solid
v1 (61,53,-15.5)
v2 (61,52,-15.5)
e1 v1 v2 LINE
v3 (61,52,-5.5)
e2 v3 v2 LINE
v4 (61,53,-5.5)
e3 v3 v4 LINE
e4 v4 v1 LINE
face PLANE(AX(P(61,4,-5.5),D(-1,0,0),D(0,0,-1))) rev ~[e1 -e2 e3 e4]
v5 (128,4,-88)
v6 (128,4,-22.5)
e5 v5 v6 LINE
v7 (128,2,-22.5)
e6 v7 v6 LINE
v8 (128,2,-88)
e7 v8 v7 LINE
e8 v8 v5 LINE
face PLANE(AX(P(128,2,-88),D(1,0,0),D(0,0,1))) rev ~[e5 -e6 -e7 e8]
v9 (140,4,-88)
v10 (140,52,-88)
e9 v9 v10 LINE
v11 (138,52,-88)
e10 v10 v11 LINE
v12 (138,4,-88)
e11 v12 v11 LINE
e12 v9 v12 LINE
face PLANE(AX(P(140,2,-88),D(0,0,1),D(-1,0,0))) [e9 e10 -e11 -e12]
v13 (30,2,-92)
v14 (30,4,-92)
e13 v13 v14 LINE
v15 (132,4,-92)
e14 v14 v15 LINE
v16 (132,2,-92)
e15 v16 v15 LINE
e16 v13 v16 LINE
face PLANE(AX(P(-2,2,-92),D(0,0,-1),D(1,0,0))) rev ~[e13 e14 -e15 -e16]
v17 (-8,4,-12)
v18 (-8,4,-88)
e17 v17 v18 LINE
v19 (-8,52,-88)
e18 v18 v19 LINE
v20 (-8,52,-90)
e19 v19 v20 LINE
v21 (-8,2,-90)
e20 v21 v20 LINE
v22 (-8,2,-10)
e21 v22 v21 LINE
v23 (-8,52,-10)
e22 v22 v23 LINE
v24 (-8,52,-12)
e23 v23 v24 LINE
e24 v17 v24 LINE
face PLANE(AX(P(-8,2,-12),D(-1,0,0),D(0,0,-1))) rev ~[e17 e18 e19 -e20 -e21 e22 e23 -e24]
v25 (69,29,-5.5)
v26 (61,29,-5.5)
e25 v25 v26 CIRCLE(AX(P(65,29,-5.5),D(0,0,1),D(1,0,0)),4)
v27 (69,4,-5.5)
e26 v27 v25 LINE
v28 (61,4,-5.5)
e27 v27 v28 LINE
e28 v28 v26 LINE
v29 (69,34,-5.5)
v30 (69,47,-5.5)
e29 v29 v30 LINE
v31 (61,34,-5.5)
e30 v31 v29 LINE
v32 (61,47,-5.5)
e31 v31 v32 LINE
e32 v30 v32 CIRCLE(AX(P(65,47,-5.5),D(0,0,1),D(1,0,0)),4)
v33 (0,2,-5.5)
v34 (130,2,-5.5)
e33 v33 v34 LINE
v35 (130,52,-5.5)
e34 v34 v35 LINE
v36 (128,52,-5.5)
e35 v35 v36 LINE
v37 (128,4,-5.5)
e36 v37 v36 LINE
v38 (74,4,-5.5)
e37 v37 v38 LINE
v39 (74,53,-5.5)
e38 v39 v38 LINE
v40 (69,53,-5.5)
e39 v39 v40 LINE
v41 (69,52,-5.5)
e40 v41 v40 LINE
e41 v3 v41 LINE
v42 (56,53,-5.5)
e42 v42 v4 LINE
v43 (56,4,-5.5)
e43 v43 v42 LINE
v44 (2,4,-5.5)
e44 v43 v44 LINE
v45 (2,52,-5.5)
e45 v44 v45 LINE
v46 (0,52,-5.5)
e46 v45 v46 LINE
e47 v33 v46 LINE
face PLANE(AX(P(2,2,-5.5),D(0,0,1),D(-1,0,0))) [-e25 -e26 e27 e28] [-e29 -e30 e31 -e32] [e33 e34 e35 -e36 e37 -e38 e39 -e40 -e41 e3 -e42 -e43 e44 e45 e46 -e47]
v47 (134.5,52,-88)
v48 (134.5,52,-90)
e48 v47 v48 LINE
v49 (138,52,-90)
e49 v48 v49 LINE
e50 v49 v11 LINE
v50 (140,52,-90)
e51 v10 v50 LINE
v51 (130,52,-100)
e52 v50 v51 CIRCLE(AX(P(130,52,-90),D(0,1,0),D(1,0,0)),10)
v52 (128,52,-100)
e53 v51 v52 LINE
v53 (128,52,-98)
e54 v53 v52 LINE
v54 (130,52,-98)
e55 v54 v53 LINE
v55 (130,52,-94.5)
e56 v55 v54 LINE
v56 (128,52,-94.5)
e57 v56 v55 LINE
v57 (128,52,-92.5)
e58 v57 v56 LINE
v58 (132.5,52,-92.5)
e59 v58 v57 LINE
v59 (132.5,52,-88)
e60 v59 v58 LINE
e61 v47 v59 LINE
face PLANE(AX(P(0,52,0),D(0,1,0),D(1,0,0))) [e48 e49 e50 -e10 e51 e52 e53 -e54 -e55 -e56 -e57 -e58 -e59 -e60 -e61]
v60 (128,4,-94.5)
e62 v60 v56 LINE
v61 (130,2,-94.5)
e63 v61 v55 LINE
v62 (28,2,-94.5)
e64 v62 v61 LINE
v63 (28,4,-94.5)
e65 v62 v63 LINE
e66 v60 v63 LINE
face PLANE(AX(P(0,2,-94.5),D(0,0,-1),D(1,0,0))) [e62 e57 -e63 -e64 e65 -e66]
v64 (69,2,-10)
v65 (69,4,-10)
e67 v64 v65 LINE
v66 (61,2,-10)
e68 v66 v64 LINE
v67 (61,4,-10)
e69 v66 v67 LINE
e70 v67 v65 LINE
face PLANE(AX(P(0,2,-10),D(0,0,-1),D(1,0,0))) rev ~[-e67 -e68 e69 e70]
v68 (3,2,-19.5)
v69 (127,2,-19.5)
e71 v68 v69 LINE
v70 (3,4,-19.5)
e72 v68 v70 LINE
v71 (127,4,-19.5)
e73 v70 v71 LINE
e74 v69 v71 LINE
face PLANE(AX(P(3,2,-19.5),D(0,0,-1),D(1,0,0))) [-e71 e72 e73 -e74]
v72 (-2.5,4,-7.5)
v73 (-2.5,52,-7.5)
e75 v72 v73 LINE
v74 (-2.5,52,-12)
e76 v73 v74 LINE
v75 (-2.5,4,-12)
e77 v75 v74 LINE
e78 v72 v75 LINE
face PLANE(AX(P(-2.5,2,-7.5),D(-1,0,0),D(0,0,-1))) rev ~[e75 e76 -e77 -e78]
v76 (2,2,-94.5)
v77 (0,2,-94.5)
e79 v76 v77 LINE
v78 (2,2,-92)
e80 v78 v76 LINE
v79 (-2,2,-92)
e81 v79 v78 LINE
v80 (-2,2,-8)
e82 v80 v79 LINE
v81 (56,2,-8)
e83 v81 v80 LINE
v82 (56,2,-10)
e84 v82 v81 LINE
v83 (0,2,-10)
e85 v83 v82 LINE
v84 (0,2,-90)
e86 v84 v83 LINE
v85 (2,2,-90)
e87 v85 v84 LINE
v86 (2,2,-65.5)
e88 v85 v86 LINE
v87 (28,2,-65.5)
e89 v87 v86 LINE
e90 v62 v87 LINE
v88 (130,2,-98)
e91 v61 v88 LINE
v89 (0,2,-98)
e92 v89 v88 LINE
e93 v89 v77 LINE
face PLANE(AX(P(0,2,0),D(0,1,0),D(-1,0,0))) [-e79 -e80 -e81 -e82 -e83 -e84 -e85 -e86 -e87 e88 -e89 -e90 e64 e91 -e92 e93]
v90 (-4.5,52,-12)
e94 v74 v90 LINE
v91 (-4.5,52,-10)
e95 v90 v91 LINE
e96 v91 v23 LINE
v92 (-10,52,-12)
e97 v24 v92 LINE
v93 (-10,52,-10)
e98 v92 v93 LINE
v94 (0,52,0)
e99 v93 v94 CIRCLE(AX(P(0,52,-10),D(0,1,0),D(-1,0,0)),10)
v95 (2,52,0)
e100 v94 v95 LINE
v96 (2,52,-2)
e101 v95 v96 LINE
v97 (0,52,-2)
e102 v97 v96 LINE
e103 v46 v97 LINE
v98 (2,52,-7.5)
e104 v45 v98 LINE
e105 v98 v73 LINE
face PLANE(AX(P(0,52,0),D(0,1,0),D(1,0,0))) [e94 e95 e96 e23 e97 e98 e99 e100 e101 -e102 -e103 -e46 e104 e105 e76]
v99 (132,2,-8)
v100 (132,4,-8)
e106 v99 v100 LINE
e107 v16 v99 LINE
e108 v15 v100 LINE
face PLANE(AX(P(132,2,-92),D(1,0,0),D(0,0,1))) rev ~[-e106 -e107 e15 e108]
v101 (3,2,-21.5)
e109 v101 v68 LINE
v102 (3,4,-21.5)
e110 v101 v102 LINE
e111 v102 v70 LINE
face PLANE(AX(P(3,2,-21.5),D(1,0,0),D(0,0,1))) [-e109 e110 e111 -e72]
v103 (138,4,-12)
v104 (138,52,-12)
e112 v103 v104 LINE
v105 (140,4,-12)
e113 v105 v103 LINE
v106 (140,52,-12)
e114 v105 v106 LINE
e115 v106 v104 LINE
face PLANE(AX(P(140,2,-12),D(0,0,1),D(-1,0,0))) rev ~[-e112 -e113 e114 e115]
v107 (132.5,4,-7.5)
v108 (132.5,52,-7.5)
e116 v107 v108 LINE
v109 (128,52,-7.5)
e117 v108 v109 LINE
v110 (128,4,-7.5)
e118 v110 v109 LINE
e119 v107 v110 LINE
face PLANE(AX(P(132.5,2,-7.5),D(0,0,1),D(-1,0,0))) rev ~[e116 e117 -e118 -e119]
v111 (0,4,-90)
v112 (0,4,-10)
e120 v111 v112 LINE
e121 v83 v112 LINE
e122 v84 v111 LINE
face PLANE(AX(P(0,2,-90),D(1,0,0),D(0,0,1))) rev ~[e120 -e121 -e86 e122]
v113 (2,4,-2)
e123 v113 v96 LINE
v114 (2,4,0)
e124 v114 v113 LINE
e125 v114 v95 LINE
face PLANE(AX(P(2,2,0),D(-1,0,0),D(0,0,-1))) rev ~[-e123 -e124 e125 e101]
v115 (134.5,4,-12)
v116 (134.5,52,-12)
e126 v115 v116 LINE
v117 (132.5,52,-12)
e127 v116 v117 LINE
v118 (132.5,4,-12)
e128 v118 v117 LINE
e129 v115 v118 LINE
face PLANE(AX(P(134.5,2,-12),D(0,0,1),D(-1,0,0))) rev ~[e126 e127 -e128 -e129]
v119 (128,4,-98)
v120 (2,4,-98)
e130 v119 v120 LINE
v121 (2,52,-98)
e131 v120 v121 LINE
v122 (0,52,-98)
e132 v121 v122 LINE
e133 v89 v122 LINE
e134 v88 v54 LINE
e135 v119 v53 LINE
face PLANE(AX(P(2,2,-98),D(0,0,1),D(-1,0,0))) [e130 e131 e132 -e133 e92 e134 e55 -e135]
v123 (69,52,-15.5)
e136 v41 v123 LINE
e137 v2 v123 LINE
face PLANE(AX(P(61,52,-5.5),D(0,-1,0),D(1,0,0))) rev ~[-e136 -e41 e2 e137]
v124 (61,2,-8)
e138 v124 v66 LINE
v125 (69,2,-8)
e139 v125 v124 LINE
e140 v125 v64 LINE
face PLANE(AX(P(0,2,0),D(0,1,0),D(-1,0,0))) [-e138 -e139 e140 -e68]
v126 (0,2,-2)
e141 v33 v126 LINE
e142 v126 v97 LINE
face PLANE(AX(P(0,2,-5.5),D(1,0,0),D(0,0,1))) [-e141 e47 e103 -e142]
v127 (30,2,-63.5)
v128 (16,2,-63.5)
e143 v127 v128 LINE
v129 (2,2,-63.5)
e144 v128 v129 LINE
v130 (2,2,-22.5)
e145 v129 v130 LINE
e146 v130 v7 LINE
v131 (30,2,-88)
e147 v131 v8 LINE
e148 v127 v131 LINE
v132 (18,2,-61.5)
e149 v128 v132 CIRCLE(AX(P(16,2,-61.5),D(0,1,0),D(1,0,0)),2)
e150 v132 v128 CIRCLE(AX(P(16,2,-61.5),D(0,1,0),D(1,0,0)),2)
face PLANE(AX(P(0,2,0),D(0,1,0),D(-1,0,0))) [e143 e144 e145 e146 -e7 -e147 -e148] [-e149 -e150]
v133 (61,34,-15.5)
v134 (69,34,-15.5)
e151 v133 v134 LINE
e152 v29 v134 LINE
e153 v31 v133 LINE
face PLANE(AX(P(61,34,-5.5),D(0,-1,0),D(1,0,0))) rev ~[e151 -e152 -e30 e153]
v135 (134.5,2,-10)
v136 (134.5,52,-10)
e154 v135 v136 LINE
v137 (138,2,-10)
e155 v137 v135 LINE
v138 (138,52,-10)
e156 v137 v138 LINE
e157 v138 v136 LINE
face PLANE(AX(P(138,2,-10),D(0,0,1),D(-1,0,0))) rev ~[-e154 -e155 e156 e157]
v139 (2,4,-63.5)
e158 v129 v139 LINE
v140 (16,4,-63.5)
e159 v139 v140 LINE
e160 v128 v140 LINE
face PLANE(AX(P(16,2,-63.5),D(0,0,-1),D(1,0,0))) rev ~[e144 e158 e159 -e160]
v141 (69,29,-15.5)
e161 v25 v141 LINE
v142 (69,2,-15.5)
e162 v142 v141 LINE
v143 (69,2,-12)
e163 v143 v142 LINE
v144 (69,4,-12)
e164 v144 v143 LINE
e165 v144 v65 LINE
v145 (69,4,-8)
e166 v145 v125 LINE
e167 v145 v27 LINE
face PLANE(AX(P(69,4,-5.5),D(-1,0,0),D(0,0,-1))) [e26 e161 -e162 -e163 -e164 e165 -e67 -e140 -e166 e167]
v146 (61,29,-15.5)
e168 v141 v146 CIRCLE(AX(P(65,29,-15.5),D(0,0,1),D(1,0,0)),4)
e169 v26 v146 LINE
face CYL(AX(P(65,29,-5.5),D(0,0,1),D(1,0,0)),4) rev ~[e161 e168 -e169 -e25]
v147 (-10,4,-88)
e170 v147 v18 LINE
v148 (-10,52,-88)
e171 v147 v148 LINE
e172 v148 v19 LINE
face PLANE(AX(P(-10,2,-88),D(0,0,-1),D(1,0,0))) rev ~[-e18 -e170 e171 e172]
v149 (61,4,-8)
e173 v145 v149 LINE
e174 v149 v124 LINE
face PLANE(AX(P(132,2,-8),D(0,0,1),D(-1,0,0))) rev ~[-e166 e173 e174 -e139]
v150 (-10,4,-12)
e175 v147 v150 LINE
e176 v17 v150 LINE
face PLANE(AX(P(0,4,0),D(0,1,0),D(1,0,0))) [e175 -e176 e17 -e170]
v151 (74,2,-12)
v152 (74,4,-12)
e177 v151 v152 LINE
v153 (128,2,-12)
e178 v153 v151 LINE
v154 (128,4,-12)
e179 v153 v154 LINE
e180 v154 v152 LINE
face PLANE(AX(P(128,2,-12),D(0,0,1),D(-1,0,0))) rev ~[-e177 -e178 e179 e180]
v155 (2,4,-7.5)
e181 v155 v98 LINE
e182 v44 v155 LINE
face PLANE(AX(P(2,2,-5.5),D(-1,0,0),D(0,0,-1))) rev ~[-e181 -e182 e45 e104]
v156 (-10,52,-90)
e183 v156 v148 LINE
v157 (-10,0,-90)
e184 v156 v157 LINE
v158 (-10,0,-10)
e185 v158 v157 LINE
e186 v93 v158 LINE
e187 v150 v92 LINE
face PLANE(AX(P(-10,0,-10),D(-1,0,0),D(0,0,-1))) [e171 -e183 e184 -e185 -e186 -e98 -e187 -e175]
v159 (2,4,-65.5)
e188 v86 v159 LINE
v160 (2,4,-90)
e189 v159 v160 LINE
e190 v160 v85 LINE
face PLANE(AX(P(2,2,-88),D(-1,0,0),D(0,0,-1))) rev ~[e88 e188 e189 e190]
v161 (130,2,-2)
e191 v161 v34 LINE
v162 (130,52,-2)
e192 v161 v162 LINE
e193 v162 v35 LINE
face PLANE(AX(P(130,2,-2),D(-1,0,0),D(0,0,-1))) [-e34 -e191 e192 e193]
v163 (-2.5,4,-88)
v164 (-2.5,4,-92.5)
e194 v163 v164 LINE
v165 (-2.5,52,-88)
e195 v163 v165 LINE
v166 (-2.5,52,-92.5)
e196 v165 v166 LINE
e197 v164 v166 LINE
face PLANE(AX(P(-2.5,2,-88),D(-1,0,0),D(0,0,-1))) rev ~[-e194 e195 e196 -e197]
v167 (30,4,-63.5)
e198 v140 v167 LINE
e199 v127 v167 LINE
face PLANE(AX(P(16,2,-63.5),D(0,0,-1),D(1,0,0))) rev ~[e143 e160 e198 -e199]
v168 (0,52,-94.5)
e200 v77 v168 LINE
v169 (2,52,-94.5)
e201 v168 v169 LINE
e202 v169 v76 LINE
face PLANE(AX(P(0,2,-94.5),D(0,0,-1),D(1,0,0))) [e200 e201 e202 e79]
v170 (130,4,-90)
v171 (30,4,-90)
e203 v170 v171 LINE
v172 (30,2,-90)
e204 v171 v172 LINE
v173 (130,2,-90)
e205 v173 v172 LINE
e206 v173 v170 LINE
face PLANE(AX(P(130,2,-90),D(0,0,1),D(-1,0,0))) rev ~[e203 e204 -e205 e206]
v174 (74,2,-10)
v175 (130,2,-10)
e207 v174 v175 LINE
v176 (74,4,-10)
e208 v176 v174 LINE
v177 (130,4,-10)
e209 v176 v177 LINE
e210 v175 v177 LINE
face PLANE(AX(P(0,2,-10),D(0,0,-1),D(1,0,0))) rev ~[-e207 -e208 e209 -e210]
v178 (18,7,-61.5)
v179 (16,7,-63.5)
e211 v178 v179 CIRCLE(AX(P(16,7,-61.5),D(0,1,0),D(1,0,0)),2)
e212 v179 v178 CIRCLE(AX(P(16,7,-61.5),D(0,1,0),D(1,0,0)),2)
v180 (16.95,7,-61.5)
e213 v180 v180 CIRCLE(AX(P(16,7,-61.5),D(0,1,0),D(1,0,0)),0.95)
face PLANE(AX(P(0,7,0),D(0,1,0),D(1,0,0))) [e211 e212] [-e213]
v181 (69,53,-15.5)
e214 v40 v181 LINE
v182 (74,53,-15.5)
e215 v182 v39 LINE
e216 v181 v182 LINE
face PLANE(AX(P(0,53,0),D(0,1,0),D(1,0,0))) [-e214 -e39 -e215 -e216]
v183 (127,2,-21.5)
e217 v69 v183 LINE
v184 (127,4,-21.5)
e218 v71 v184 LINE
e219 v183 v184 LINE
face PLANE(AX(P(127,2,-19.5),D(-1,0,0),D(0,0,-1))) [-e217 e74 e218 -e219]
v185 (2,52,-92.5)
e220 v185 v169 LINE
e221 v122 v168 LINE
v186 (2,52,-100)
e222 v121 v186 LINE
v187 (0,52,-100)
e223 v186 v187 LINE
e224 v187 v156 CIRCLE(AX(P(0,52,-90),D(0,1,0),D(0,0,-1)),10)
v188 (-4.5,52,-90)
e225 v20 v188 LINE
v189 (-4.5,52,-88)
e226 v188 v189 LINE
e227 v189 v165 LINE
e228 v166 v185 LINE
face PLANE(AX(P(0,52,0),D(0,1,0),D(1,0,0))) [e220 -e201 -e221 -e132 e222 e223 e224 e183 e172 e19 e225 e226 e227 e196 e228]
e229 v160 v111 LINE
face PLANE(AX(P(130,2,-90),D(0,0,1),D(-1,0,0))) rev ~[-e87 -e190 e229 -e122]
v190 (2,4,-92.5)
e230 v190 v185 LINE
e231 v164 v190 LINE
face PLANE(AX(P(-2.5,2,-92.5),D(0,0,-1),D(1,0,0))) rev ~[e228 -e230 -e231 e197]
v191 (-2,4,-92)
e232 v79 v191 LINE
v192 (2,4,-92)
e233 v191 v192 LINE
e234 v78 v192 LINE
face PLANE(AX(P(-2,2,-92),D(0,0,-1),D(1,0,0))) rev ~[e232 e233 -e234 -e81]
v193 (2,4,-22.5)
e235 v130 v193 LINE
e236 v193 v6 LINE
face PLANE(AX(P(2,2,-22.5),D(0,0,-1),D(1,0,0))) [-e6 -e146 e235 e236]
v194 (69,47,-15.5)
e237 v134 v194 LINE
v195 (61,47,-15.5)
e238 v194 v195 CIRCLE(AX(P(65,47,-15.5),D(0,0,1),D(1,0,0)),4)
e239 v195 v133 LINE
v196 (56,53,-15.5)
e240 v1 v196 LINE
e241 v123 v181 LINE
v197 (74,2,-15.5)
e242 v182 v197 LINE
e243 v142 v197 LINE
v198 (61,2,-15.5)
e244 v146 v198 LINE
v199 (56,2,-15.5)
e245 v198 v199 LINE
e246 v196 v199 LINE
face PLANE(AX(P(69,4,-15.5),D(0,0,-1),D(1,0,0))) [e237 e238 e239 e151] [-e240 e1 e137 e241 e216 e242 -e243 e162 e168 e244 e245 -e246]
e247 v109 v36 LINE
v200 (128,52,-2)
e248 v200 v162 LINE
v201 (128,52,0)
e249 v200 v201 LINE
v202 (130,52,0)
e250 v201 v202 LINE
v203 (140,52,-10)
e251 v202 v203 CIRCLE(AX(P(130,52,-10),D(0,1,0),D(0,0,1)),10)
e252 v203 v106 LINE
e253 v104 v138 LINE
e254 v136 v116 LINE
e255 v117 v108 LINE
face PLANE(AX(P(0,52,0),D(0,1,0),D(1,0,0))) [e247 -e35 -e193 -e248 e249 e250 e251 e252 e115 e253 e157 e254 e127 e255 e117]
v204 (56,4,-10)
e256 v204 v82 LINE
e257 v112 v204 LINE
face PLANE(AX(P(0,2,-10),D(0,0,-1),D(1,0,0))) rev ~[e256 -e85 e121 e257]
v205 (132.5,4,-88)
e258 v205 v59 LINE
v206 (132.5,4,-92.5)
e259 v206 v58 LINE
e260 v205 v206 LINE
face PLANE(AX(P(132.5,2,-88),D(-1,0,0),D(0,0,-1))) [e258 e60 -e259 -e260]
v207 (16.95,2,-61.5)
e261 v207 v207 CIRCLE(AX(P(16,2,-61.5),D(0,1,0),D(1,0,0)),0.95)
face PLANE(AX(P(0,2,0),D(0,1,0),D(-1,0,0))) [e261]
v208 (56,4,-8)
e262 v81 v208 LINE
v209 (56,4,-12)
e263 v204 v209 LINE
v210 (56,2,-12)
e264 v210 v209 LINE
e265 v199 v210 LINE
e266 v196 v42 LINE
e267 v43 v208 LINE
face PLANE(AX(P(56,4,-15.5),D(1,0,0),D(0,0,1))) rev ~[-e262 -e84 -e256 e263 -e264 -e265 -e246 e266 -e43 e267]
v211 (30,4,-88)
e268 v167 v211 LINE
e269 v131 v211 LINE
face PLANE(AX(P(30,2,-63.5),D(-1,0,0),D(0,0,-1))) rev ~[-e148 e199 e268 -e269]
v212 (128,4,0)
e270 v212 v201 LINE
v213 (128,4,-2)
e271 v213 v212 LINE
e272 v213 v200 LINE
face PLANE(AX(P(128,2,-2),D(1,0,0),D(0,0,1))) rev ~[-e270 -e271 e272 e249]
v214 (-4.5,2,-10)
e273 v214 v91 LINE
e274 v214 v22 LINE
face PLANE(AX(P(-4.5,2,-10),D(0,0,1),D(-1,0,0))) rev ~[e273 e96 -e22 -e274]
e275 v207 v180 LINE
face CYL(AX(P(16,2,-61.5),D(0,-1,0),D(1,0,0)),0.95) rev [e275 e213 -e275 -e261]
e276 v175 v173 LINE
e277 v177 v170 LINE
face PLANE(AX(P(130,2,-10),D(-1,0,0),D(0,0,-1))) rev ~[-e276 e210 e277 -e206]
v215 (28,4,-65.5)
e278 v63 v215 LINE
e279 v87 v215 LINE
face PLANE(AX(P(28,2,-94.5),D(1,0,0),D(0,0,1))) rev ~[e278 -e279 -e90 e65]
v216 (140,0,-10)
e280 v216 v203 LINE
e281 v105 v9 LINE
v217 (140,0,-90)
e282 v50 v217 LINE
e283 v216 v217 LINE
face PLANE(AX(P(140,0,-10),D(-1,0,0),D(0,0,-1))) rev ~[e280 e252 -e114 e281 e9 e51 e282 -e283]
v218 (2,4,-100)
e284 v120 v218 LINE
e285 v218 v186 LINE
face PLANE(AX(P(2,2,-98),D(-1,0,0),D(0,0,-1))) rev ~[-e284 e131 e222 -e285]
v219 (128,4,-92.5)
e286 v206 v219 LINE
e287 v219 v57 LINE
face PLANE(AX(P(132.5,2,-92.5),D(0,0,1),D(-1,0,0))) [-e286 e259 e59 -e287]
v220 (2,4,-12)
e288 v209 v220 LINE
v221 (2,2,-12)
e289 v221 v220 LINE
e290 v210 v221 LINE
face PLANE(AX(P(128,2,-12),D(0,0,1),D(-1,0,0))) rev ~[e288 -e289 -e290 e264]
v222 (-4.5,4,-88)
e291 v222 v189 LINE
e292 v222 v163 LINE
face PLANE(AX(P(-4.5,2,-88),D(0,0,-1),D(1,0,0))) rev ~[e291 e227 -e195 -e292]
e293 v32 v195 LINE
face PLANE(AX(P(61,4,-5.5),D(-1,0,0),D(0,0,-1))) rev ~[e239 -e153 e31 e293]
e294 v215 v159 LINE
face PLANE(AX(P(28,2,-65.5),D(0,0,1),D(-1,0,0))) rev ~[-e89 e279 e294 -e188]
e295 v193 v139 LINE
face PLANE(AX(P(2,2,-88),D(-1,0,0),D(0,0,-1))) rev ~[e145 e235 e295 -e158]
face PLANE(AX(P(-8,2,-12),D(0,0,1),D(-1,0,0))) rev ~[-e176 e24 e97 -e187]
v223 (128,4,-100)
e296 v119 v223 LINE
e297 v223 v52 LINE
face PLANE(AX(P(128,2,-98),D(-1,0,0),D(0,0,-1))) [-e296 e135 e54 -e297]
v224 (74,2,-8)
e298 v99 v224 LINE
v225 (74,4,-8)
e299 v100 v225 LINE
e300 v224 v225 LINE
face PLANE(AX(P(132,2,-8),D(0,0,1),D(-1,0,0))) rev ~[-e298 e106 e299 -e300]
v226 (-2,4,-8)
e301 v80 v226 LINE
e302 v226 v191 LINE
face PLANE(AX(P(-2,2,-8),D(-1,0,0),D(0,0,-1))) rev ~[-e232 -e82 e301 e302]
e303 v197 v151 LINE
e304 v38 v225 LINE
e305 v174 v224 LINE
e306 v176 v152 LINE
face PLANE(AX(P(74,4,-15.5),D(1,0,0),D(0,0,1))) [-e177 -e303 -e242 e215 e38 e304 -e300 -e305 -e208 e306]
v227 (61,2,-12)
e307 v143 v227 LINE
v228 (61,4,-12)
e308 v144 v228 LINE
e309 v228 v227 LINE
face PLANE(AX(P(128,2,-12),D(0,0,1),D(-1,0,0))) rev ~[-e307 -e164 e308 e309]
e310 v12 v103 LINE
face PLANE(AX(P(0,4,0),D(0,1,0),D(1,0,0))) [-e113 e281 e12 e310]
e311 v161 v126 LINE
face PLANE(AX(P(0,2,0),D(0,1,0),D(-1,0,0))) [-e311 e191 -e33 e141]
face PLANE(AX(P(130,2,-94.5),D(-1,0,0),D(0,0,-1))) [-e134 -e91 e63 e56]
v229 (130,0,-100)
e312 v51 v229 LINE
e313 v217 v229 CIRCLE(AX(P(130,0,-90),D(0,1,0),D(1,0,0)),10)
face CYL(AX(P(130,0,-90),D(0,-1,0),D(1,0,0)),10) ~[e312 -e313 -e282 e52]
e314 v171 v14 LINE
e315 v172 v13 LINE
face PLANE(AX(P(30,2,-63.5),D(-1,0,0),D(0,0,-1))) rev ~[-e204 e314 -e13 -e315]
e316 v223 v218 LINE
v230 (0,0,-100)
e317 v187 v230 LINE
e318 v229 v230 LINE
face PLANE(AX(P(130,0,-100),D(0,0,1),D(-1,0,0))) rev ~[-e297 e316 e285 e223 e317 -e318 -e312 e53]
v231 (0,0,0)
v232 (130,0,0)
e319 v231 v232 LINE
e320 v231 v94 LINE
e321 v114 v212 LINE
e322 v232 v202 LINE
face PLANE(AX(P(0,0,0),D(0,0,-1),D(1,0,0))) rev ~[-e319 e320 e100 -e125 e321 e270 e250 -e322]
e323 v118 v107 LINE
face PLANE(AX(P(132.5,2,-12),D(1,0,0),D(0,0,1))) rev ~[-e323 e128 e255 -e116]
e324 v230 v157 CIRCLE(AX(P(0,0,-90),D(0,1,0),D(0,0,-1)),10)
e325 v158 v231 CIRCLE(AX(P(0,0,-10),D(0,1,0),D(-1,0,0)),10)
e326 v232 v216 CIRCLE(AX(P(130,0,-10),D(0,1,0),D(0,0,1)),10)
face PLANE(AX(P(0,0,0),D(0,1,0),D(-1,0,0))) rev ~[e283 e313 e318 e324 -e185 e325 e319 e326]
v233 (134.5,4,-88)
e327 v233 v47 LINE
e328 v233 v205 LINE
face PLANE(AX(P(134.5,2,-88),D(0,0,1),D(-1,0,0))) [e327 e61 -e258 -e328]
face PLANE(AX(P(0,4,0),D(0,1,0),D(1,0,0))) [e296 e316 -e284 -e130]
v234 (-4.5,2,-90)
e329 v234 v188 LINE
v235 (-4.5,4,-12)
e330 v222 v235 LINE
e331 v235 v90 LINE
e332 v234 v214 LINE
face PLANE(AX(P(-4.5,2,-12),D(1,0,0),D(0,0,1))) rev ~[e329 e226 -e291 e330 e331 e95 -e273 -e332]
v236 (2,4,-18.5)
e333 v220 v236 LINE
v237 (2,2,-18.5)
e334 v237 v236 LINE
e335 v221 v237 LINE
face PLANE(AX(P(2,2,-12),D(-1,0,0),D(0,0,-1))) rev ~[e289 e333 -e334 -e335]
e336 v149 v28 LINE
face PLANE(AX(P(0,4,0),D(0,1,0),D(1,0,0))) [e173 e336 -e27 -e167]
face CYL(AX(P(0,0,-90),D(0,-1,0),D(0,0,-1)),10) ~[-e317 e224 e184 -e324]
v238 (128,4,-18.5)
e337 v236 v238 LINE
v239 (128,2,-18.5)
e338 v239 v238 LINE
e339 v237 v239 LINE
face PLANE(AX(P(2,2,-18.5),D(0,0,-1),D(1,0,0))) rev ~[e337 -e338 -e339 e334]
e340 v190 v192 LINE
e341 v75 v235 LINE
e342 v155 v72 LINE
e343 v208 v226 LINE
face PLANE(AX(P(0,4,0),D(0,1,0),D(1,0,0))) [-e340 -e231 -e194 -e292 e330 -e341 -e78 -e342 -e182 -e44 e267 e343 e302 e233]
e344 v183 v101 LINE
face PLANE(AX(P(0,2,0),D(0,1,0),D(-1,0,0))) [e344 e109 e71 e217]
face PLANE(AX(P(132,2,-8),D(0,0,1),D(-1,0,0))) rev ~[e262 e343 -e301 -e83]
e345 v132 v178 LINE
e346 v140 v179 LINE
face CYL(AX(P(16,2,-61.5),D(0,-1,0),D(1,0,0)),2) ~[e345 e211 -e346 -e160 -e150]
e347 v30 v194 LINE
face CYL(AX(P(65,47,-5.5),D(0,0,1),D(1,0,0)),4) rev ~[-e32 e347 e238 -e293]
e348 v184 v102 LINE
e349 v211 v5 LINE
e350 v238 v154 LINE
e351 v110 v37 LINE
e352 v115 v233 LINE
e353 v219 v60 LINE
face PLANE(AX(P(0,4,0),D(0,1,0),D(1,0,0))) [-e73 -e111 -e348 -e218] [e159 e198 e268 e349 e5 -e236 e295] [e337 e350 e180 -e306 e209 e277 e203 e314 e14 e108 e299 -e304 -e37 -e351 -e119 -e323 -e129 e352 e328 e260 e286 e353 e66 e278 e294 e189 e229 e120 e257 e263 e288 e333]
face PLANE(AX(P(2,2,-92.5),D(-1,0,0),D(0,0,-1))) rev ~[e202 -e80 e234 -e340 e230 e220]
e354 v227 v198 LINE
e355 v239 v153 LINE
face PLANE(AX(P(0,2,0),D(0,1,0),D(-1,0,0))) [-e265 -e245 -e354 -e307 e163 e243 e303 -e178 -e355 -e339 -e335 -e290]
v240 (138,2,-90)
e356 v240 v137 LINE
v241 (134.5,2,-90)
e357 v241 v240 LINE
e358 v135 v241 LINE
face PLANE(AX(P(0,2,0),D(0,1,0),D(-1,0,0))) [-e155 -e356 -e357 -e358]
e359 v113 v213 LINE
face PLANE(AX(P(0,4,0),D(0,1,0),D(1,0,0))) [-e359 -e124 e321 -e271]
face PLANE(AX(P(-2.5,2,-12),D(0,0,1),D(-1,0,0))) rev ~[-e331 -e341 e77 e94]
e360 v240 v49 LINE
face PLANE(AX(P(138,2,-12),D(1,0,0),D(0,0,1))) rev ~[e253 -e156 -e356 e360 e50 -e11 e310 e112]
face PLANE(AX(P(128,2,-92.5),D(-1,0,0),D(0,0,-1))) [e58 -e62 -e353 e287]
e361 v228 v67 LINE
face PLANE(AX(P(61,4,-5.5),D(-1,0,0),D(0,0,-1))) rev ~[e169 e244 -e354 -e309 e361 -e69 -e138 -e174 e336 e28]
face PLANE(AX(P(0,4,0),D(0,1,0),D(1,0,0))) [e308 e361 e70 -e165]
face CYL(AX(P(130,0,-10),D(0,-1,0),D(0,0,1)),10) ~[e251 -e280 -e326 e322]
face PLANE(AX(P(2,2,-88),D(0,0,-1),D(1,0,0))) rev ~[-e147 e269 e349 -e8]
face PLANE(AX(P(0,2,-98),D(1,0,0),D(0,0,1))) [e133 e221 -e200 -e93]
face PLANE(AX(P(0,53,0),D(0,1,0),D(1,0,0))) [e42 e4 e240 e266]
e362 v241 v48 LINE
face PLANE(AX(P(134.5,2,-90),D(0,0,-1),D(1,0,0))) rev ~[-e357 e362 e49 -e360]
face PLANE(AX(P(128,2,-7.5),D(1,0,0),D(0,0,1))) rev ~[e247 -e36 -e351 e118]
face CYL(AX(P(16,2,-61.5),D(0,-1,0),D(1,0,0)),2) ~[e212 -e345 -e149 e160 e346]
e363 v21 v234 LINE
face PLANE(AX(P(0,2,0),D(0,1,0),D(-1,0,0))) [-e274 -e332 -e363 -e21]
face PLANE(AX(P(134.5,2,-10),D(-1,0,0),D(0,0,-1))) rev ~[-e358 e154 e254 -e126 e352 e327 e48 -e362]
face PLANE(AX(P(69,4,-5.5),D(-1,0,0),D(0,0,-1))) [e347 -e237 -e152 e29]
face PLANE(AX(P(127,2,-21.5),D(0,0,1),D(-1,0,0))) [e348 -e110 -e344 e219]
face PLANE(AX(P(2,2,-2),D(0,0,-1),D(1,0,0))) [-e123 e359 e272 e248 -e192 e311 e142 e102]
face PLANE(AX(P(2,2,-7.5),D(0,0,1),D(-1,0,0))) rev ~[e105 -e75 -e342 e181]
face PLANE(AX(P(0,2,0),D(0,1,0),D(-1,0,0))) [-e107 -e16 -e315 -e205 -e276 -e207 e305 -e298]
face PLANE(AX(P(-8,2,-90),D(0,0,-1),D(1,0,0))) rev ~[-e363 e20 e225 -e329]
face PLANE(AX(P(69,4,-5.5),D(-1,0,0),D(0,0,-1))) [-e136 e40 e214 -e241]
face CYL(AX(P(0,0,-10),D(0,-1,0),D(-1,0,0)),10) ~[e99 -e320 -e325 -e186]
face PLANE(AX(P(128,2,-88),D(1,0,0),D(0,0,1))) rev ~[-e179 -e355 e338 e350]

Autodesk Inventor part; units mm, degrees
ref_plane "YZ Plane" through (0, 0, 0) normal (1, 0, 0) x (0, 1, 0)
ref_plane "XZ Plane" through (0, 0, 0) normal (0, 1, 0) x (-1, 0, 0)
ref_plane "XY Plane" through (0, 0, 0) normal (0, 0, 1) x (1, 0, 0)
sketch "Skizze1" plane through (0, 0, 0) normal (0, 1, 0) x (-1, 0, 0)
  line L0 (0, 0) -> (-130, 0)
  line L1 (-140, -10) -> (-140, -90)
  line L2 (-130, -100) -> (0, -100)
  line L3 (10, -10) -> (10, -90)
  arc A0 (0, -100) -> (10, -90) centre (0, -90) ccw
  arc A1 (-140, -90) -> (-130, -100) centre (-130, -90) ccw
  arc A2 (-130, 0) -> (-140, -10) centre (-130, -10) ccw
  arc A3 (10, -10) -> (0, 0) centre (0, -10) ccw
  dimension "d0" = 150
  dimension "d1" = 100
  dimension "d2" = 10
extrude "Extrusion1" add sketch "Skizze1" along normal blind 2
sketch "Skizze2" plane through (0, 2, 0) normal (0, 1, 0) x (1, 0, 0)
  line L0 (0, 0) -> (130, 0) projected
  arc A0 (130, 0) -> (140, 10) centre (130, 10) ccw projected
  line L1 (140, 10) -> (140, 90) projected
  arc A1 (140, 90) -> (130, 100) centre (130, 90) ccw projected
  line L2 (130, 100) -> (0, 100) projected
  arc A2 (0, 100) -> (-10, 90) centre (0, 90) ccw projected
  line L3 (-10, 90) -> (-10, 10) projected
  arc A3 (-10, 10) -> (0, 0) centre (0, 10) ccw projected
  line L4 (0, 2) -> (130, 2)
  line L5 (130, 2) -> (130, 5.5)
  line L6 (130, 5.5) -> (0, 5.5)
  line L7 (0, 5.5) -> (0, 2)
  line L8 (138, 10) -> (134.5, 10)
  line L9 (134.5, 10) -> (134.5, 90)
  line L10 (134.5, 90) -> (138, 90)
  line L11 (138, 90) -> (138, 10)
  line L12 (130, 98) -> (0, 98)
  line L13 (0, 98) -> (0, 94.5)
  line L14 (0, 94.5) -> (130, 94.5)
  line L15 (130, 94.5) -> (130, 98)
  line L16 (-8, 90) -> (-4.5, 90)
  line L17 (-4.5, 90) -> (-4.5, 10)
  line L18 (-4.5, 10) -> (-8, 10)
  line L19 (-8, 10) -> (-8, 90)
  line L20 (65, 2) -> (65, 0) construction
  line L21 (0, 0) -> (130, 0) construction
  line L22 (138, 50) -> (140, 50) construction
  line L23 (140, 10) -> (140, 90) construction
  line L24 (65, 98) -> (65, 100) construction
  line L25 (130, 100) -> (0, 100) construction
  line L26 (-8, 50) -> (-10, 50) construction
  line L27 (-10, 90) -> (-10, 10) construction
  line L28 (140, 88) -> (138, 88)
  line L29 (134.5, 88) -> (132.5, 88)
  line L30 (132.5, 88) -> (132.5, 92.5)
  line L31 (132.5, 92.5) -> (128, 92.5)
  line L32 (128, 92.5) -> (128, 94.5)
  line L33 (128, 98) -> (128, 100)
  line L34 (140, 12) -> (138, 12)
  line L35 (134.5, 12) -> (132.5, 12)
  line L36 (132.5, 12) -> (132.5, 7.5)
  line L37 (132.5, 7.5) -> (128, 7.5)
  line L38 (128, 7.5) -> (128, 5.5)
  line L39 (128, 2) -> (128, 0)
  line L40 (2, 0) -> (2, 2)
  line L41 (2, 5.5) -> (2, 7.5)
  line L42 (2, 7.5) -> (-2.5, 7.5)
  line L43 (-2.5, 7.5) -> (-2.5, 12)
  line L44 (-2.5, 12) -> (-4.5, 12)
  line L45 (-8, 12) -> (-10, 12)
  line L46 (-10, 88) -> (-8, 88)
  line L47 (-4.5, 88) -> (-2.5, 88)
  line L48 (-2.5, 88) -> (-2.5, 92.5)
  line L49 (-2.5, 92.5) -> (2, 92.5)
  line L50 (2, 92.5) -> (2, 94.5)
  line L51 (2, 98) -> (2, 100)
  line L52 (-2, 92) -> (132, 92)
  line L53 (132, 92) -> (132, 8)
  line L54 (132, 8) -> (-2, 8)
  line L55 (-2, 8) -> (-2, 92)
  line L56 (130, 90) -> (0, 90)
  line L57 (0, 90) -> (0, 10)
  line L58 (0, 10) -> (130, 10)
  line L59 (130, 10) -> (130, 90)
  line L60 (-2.5, 92.5) -> (0, 90) construction
  line L61 (132.5, 92.5) -> (130, 90) construction
  line L62 (132.5, 7.5) -> (130, 10) construction
  line L63 (-2.5, 7.5) -> (0, 10) construction
  line L64 (2, 88) -> (128, 88)
  line L65 (128, 88) -> (128, 12)
  line L66 (128, 12) -> (2, 12)
  line L67 (2, 12) -> (2, 88)
  point P0 (130, 3.75)
  point P1 (128, 0)
  dimension "d5" = 3.5
  dimension "d6" = 2
  dimension "d7" = 2
  dimension "d12" = 2
  dimension "d13" = 2
  dimension "d14" = 0.5
  dimension "d15" = 2
extrude "Extrusion2" add sketch "Skizze2" along normal blind 2 contours L40 L4 L39 L0 | L3 L46 L19 L45 | L34 L11 L28 L1 | L41 L42 L43 L44 L17 L47 L48 L49 L50 L14 L32 L31 L30 L29 L9 L35 L36 L37 L38 L6 | L2 L33 L12 L51 | L59 L58 L57 L56
extrude "Extrusion3" add sketch "Skizze2" along normal blind 50 contours A3 L3 L45 L19 L18 L17 L44 L43 L42 L41 L6 L7 L4 L40 L0 | L39 L4 L5 L6 L38 L37 L36 L35 L9 L8 L11 L34 L1 A0 L0 | L3 A2 L2 L51 L12 L13 L14 L50 L49 L48 L47 L17 L16 L19 L46 | L28 L11 L10 L9 L29 L30 L31 L32 L14 L15 L12 L33 L2 A1 L1
sketch "Skizze3" plane through (0, 2, 0) normal (0, 1, 0) x (1, 0, 0)
  line L0 (2, 88) -> (2, 12) projected
  line L1 (2, 12) -> (128, 12) projected
  line L2 (128, 12) -> (128, 88) projected
  line L3 (128, 88) -> (2, 88) projected
  line L4 (-2, 92) -> (-2, 8) projected
  line L5 (-2, 8) -> (132, 8) projected
  line L6 (132, 8) -> (132, 92) projected
  line L7 (132, 92) -> (-2, 92) projected
  line L8 (0, 90) -> (130, 90) projected
  line L9 (130, 90) -> (130, 10) projected
  line L10 (130, 10) -> (0, 10) projected
  line L11 (0, 10) -> (0, 90) projected
  line L12 (3, 19.5) -> (127, 19.5)
  line L13 (127, 19.5) -> (127, 21.5)
  line L14 (127, 21.5) -> (3, 21.5)
  line L15 (3, 21.5) -> (3, 19.5)
  line L16 (2, 22.5) -> (128, 22.5)
  line L17 (2, 12) -> (2, 88) projected
  line L18 (2, 18.5) -> (128, 18.5)
  line L19 (128, 12) -> (128, 88) projected
  point P0 (0, 0)
  point P1 (65, 19.5)
  point P2 (65, 8)
  dimension "d20" = 2
  dimension "d21" = 11.5
  dimension "d22" = 1
  dimension "d23" = 1
  dimension "d26" = 1
extrude "Extrusion4" add sketch "Skizze3" along normal up to surface (2 mm away) contours L16 L2 L18 L0
sketch "Skizze4" plane through (0, 2, 0) normal (0, 1, 0) x (1, 0, 0)
  line L0 (128, 94.5) -> (2, 94.5) projected
  line L1 (2, 22.5) -> (2, 88) projected
  line L2 (2, 94.5) -> (28, 94.5)
  line L3 (28, 94.5) -> (28, 65.5)
  line L4 (28, 65.5) -> (2, 65.5)
  line L5 (2, 65.5) -> (2, 94.5)
  line L6 (2, 63.5) -> (30, 63.5)
  line L7 (30, 63.5) -> (30, 94.5)
  circle A0 centre (16, 61.5) radius 2
  circle A1 centre (16, 61.5) radius 0.95
  point P0 (0, 0)
  point P1 (2, 65.5)
  point P2 (16, 63.5)
  dimension "d27" = 26
  dimension "d28" = 29
  dimension "d31" = 2
  dimension "d32" = 2
  dimension "d54" = 1.9
  dimension "d55" = 4
extrude "Extrusion5" cut sketch "Skizze4" along normal through all contours L3 L4 L1 L5 L0
extrude "Extrusion6" add sketch "Skizze4" along normal blind 2 contours L7 L6 L1 L4 L3 L0
extrude "Extrusion9" add sketch "Skizze4" along normal blind 5 contours A0
sketch "Skizze5" plane through (0, 4, 0) normal (0, 1, 0) x (1, 0, 0)
  line L0 (2, 65.5) -> (2, 90) construction
  line L1 (2, 90) -> (0, 90) construction
  line L2 (0, 90) -> (0, 10) construction
  line L3 (0, 10) -> (130, 10) construction
  line L4 (130, 10) -> (130, 90) construction
  line L5 (130, 90) -> (30, 90) construction
  line L6 (30, 90) -> (30, 92) construction
  line L7 (30, 92) -> (132, 92) construction
  line L8 (132, 92) -> (132, 8) construction
  line L9 (132, 8) -> (-2, 8) construction
  line L10 (-2, 8) -> (-2, 92) construction
  line L11 (-2, 92) -> (2, 92) construction
  line L12 (2, 92.5) -> (-2.5, 92.5) construction
  line L13 (-2.5, 92.5) -> (-2.5, 88) construction
  line L14 (-2.5, 88) -> (-4.5, 88) construction
  line L15 (-4.5, 88) -> (-4.5, 12) construction
  line L16 (-4.5, 12) -> (-2.5, 12) projected
  line L17 (-2.5, 12) -> (-2.5, 7.5) projected
  line L18 (-2.5, 7.5) -> (2, 7.5) projected
  line L19 (2, 7.5) -> (2, 5.5) projected
  line L20 (2, 5.5) -> (128, 5.5) construction
  line L21 (128, 5.5) -> (128, 7.5) projected
  line L22 (128, 7.5) -> (132.5, 7.5) projected
  line L23 (132.5, 7.5) -> (132.5, 12) projected
  line L24 (132.5, 12) -> (134.5, 12) projected
  line L25 (134.5, 12) -> (134.5, 88) construction
  line L26 (134.5, 88) -> (132.5, 88) construction
  line L27 (132.5, 88) -> (132.5, 92.5) construction
  line L28 (132.5, 92.5) -> (128, 92.5) construction
  line L29 (128, 92.5) -> (128, 94.5) construction
  line L30 (128, 94.5) -> (28, 94.5) construction
  line L31 (28, 94.5) -> (28, 65.5) construction
  line L32 (28, 65.5) -> (2, 65.5) construction
  line L33 (3, 19.5) -> (127, 19.5) construction
  line L34 (3, 21.5) -> (3, 19.5) projected
  line L35 (127, 21.5) -> (3, 21.5) construction
  line L36 (127, 19.5) -> (127, 21.5) projected
  line L37 (128, 18.5) -> (128, 12) projected
  line L38 (128, 12) -> (2, 12) construction
  line L39 (2, 12) -> (2, 18.5) projected
  line L40 (128, 18.5) -> (2, 18.5) construction
  line L41 (2, 63.5) -> (16, 63.5) construction
  line L42 (30, 63.5) -> (30, 88) construction
  line L43 (30, 88) -> (128, 88) construction
  line L44 (128, 88) -> (128, 22.5) construction
  line L45 (2, 22.5) -> (128, 22.5) construction
  line L46 (2, 22.5) -> (2, 63.5) construction
  line L47 (56, 5.5) -> (61, 5.5)
  line L48 (61, 5.5) -> (61, 15.5)
  line L49 (61, 15.5) -> (56, 15.5)
  line L50 (56, 15.5) -> (56, 5.5)
  line L51 (69, 15.5) -> (74, 15.5)
  line L52 (74, 15.5) -> (74, 5.5)
  line L53 (74, 5.5) -> (69, 5.5)
  line L54 (69, 5.5) -> (69, 15.5)
  line L55 (61, 10.5) -> (69, 10.5) construction
  line L56 (2, 92) -> (2, 92.5) projected
  line L57 (16, 63.5) -> (30, 63.5) projected
  point P0 (0, 0)
  point P1 (65, 5.5)
  point P2 (65, 10.5)
  dimension "d41" = 10
  dimension "d42" = 8
  dimension "d43" = 5
extrude "Extrusion7" add sketch "Skizze5" along normal blind 49 and the other way blind 2
sketch "Skizze6" plane through (0, 2, -5.5) normal (0, 0, 1) x (1, 0, 0)
  line L0 (2, 2) -> (56, 2) projected
  line L1 (2, 2) -> (2, 50) projected
  line L2 (0, 50) -> (2, 50) projected
  line L3 (0, 0) -> (0, 50) projected
  line L4 (130, 0) -> (0, 0) projected
  line L5 (130, 0) -> (130, 50) projected
  line L6 (128, 50) -> (130, 50) projected
  line L7 (128, 2) -> (128, 50) projected
  line L8 (74, 2) -> (128, 2) projected
  line L9 (74, 2) -> (74, 51) projected
  line L10 (69, 51) -> (74, 51) projected
  line L11 (69, 51) -> (69, 2) projected
  line L12 (61, 2) -> (69, 2) projected
  line L13 (61, 51) -> (61, 2) projected
  line L14 (56, 51) -> (61, 51) projected
  line L15 (56, 2) -> (56, 51) projected
  line L16 (69, 51) -> (69, 2) projected
  line L17 (61, 0) -> (61, 51) projected
  arc A0 (69, 27) -> (61, 27) centre (65, 27) ccw
  line L18 (61, 32) -> (69, 32)
  arc A1 (69, 45) -> (61, 45) centre (65, 45) ccw
  line L19 (61, 50) -> (69, 50)
  point P0 (0, -2)
  dimension "d48" = 5
  dimension "d49" = 5
  dimension "d50" = 1
  dimension "d51" = 13
extrude "Extrusion8" add sketch "Skizze6" against normal up to surface (10 mm away) contours L19 L11 A1 L13 | L18 L11 A0 L13
equation "\"d23\" = d22"
equation "\"d26\" = d23"
properties part number "bottom"
